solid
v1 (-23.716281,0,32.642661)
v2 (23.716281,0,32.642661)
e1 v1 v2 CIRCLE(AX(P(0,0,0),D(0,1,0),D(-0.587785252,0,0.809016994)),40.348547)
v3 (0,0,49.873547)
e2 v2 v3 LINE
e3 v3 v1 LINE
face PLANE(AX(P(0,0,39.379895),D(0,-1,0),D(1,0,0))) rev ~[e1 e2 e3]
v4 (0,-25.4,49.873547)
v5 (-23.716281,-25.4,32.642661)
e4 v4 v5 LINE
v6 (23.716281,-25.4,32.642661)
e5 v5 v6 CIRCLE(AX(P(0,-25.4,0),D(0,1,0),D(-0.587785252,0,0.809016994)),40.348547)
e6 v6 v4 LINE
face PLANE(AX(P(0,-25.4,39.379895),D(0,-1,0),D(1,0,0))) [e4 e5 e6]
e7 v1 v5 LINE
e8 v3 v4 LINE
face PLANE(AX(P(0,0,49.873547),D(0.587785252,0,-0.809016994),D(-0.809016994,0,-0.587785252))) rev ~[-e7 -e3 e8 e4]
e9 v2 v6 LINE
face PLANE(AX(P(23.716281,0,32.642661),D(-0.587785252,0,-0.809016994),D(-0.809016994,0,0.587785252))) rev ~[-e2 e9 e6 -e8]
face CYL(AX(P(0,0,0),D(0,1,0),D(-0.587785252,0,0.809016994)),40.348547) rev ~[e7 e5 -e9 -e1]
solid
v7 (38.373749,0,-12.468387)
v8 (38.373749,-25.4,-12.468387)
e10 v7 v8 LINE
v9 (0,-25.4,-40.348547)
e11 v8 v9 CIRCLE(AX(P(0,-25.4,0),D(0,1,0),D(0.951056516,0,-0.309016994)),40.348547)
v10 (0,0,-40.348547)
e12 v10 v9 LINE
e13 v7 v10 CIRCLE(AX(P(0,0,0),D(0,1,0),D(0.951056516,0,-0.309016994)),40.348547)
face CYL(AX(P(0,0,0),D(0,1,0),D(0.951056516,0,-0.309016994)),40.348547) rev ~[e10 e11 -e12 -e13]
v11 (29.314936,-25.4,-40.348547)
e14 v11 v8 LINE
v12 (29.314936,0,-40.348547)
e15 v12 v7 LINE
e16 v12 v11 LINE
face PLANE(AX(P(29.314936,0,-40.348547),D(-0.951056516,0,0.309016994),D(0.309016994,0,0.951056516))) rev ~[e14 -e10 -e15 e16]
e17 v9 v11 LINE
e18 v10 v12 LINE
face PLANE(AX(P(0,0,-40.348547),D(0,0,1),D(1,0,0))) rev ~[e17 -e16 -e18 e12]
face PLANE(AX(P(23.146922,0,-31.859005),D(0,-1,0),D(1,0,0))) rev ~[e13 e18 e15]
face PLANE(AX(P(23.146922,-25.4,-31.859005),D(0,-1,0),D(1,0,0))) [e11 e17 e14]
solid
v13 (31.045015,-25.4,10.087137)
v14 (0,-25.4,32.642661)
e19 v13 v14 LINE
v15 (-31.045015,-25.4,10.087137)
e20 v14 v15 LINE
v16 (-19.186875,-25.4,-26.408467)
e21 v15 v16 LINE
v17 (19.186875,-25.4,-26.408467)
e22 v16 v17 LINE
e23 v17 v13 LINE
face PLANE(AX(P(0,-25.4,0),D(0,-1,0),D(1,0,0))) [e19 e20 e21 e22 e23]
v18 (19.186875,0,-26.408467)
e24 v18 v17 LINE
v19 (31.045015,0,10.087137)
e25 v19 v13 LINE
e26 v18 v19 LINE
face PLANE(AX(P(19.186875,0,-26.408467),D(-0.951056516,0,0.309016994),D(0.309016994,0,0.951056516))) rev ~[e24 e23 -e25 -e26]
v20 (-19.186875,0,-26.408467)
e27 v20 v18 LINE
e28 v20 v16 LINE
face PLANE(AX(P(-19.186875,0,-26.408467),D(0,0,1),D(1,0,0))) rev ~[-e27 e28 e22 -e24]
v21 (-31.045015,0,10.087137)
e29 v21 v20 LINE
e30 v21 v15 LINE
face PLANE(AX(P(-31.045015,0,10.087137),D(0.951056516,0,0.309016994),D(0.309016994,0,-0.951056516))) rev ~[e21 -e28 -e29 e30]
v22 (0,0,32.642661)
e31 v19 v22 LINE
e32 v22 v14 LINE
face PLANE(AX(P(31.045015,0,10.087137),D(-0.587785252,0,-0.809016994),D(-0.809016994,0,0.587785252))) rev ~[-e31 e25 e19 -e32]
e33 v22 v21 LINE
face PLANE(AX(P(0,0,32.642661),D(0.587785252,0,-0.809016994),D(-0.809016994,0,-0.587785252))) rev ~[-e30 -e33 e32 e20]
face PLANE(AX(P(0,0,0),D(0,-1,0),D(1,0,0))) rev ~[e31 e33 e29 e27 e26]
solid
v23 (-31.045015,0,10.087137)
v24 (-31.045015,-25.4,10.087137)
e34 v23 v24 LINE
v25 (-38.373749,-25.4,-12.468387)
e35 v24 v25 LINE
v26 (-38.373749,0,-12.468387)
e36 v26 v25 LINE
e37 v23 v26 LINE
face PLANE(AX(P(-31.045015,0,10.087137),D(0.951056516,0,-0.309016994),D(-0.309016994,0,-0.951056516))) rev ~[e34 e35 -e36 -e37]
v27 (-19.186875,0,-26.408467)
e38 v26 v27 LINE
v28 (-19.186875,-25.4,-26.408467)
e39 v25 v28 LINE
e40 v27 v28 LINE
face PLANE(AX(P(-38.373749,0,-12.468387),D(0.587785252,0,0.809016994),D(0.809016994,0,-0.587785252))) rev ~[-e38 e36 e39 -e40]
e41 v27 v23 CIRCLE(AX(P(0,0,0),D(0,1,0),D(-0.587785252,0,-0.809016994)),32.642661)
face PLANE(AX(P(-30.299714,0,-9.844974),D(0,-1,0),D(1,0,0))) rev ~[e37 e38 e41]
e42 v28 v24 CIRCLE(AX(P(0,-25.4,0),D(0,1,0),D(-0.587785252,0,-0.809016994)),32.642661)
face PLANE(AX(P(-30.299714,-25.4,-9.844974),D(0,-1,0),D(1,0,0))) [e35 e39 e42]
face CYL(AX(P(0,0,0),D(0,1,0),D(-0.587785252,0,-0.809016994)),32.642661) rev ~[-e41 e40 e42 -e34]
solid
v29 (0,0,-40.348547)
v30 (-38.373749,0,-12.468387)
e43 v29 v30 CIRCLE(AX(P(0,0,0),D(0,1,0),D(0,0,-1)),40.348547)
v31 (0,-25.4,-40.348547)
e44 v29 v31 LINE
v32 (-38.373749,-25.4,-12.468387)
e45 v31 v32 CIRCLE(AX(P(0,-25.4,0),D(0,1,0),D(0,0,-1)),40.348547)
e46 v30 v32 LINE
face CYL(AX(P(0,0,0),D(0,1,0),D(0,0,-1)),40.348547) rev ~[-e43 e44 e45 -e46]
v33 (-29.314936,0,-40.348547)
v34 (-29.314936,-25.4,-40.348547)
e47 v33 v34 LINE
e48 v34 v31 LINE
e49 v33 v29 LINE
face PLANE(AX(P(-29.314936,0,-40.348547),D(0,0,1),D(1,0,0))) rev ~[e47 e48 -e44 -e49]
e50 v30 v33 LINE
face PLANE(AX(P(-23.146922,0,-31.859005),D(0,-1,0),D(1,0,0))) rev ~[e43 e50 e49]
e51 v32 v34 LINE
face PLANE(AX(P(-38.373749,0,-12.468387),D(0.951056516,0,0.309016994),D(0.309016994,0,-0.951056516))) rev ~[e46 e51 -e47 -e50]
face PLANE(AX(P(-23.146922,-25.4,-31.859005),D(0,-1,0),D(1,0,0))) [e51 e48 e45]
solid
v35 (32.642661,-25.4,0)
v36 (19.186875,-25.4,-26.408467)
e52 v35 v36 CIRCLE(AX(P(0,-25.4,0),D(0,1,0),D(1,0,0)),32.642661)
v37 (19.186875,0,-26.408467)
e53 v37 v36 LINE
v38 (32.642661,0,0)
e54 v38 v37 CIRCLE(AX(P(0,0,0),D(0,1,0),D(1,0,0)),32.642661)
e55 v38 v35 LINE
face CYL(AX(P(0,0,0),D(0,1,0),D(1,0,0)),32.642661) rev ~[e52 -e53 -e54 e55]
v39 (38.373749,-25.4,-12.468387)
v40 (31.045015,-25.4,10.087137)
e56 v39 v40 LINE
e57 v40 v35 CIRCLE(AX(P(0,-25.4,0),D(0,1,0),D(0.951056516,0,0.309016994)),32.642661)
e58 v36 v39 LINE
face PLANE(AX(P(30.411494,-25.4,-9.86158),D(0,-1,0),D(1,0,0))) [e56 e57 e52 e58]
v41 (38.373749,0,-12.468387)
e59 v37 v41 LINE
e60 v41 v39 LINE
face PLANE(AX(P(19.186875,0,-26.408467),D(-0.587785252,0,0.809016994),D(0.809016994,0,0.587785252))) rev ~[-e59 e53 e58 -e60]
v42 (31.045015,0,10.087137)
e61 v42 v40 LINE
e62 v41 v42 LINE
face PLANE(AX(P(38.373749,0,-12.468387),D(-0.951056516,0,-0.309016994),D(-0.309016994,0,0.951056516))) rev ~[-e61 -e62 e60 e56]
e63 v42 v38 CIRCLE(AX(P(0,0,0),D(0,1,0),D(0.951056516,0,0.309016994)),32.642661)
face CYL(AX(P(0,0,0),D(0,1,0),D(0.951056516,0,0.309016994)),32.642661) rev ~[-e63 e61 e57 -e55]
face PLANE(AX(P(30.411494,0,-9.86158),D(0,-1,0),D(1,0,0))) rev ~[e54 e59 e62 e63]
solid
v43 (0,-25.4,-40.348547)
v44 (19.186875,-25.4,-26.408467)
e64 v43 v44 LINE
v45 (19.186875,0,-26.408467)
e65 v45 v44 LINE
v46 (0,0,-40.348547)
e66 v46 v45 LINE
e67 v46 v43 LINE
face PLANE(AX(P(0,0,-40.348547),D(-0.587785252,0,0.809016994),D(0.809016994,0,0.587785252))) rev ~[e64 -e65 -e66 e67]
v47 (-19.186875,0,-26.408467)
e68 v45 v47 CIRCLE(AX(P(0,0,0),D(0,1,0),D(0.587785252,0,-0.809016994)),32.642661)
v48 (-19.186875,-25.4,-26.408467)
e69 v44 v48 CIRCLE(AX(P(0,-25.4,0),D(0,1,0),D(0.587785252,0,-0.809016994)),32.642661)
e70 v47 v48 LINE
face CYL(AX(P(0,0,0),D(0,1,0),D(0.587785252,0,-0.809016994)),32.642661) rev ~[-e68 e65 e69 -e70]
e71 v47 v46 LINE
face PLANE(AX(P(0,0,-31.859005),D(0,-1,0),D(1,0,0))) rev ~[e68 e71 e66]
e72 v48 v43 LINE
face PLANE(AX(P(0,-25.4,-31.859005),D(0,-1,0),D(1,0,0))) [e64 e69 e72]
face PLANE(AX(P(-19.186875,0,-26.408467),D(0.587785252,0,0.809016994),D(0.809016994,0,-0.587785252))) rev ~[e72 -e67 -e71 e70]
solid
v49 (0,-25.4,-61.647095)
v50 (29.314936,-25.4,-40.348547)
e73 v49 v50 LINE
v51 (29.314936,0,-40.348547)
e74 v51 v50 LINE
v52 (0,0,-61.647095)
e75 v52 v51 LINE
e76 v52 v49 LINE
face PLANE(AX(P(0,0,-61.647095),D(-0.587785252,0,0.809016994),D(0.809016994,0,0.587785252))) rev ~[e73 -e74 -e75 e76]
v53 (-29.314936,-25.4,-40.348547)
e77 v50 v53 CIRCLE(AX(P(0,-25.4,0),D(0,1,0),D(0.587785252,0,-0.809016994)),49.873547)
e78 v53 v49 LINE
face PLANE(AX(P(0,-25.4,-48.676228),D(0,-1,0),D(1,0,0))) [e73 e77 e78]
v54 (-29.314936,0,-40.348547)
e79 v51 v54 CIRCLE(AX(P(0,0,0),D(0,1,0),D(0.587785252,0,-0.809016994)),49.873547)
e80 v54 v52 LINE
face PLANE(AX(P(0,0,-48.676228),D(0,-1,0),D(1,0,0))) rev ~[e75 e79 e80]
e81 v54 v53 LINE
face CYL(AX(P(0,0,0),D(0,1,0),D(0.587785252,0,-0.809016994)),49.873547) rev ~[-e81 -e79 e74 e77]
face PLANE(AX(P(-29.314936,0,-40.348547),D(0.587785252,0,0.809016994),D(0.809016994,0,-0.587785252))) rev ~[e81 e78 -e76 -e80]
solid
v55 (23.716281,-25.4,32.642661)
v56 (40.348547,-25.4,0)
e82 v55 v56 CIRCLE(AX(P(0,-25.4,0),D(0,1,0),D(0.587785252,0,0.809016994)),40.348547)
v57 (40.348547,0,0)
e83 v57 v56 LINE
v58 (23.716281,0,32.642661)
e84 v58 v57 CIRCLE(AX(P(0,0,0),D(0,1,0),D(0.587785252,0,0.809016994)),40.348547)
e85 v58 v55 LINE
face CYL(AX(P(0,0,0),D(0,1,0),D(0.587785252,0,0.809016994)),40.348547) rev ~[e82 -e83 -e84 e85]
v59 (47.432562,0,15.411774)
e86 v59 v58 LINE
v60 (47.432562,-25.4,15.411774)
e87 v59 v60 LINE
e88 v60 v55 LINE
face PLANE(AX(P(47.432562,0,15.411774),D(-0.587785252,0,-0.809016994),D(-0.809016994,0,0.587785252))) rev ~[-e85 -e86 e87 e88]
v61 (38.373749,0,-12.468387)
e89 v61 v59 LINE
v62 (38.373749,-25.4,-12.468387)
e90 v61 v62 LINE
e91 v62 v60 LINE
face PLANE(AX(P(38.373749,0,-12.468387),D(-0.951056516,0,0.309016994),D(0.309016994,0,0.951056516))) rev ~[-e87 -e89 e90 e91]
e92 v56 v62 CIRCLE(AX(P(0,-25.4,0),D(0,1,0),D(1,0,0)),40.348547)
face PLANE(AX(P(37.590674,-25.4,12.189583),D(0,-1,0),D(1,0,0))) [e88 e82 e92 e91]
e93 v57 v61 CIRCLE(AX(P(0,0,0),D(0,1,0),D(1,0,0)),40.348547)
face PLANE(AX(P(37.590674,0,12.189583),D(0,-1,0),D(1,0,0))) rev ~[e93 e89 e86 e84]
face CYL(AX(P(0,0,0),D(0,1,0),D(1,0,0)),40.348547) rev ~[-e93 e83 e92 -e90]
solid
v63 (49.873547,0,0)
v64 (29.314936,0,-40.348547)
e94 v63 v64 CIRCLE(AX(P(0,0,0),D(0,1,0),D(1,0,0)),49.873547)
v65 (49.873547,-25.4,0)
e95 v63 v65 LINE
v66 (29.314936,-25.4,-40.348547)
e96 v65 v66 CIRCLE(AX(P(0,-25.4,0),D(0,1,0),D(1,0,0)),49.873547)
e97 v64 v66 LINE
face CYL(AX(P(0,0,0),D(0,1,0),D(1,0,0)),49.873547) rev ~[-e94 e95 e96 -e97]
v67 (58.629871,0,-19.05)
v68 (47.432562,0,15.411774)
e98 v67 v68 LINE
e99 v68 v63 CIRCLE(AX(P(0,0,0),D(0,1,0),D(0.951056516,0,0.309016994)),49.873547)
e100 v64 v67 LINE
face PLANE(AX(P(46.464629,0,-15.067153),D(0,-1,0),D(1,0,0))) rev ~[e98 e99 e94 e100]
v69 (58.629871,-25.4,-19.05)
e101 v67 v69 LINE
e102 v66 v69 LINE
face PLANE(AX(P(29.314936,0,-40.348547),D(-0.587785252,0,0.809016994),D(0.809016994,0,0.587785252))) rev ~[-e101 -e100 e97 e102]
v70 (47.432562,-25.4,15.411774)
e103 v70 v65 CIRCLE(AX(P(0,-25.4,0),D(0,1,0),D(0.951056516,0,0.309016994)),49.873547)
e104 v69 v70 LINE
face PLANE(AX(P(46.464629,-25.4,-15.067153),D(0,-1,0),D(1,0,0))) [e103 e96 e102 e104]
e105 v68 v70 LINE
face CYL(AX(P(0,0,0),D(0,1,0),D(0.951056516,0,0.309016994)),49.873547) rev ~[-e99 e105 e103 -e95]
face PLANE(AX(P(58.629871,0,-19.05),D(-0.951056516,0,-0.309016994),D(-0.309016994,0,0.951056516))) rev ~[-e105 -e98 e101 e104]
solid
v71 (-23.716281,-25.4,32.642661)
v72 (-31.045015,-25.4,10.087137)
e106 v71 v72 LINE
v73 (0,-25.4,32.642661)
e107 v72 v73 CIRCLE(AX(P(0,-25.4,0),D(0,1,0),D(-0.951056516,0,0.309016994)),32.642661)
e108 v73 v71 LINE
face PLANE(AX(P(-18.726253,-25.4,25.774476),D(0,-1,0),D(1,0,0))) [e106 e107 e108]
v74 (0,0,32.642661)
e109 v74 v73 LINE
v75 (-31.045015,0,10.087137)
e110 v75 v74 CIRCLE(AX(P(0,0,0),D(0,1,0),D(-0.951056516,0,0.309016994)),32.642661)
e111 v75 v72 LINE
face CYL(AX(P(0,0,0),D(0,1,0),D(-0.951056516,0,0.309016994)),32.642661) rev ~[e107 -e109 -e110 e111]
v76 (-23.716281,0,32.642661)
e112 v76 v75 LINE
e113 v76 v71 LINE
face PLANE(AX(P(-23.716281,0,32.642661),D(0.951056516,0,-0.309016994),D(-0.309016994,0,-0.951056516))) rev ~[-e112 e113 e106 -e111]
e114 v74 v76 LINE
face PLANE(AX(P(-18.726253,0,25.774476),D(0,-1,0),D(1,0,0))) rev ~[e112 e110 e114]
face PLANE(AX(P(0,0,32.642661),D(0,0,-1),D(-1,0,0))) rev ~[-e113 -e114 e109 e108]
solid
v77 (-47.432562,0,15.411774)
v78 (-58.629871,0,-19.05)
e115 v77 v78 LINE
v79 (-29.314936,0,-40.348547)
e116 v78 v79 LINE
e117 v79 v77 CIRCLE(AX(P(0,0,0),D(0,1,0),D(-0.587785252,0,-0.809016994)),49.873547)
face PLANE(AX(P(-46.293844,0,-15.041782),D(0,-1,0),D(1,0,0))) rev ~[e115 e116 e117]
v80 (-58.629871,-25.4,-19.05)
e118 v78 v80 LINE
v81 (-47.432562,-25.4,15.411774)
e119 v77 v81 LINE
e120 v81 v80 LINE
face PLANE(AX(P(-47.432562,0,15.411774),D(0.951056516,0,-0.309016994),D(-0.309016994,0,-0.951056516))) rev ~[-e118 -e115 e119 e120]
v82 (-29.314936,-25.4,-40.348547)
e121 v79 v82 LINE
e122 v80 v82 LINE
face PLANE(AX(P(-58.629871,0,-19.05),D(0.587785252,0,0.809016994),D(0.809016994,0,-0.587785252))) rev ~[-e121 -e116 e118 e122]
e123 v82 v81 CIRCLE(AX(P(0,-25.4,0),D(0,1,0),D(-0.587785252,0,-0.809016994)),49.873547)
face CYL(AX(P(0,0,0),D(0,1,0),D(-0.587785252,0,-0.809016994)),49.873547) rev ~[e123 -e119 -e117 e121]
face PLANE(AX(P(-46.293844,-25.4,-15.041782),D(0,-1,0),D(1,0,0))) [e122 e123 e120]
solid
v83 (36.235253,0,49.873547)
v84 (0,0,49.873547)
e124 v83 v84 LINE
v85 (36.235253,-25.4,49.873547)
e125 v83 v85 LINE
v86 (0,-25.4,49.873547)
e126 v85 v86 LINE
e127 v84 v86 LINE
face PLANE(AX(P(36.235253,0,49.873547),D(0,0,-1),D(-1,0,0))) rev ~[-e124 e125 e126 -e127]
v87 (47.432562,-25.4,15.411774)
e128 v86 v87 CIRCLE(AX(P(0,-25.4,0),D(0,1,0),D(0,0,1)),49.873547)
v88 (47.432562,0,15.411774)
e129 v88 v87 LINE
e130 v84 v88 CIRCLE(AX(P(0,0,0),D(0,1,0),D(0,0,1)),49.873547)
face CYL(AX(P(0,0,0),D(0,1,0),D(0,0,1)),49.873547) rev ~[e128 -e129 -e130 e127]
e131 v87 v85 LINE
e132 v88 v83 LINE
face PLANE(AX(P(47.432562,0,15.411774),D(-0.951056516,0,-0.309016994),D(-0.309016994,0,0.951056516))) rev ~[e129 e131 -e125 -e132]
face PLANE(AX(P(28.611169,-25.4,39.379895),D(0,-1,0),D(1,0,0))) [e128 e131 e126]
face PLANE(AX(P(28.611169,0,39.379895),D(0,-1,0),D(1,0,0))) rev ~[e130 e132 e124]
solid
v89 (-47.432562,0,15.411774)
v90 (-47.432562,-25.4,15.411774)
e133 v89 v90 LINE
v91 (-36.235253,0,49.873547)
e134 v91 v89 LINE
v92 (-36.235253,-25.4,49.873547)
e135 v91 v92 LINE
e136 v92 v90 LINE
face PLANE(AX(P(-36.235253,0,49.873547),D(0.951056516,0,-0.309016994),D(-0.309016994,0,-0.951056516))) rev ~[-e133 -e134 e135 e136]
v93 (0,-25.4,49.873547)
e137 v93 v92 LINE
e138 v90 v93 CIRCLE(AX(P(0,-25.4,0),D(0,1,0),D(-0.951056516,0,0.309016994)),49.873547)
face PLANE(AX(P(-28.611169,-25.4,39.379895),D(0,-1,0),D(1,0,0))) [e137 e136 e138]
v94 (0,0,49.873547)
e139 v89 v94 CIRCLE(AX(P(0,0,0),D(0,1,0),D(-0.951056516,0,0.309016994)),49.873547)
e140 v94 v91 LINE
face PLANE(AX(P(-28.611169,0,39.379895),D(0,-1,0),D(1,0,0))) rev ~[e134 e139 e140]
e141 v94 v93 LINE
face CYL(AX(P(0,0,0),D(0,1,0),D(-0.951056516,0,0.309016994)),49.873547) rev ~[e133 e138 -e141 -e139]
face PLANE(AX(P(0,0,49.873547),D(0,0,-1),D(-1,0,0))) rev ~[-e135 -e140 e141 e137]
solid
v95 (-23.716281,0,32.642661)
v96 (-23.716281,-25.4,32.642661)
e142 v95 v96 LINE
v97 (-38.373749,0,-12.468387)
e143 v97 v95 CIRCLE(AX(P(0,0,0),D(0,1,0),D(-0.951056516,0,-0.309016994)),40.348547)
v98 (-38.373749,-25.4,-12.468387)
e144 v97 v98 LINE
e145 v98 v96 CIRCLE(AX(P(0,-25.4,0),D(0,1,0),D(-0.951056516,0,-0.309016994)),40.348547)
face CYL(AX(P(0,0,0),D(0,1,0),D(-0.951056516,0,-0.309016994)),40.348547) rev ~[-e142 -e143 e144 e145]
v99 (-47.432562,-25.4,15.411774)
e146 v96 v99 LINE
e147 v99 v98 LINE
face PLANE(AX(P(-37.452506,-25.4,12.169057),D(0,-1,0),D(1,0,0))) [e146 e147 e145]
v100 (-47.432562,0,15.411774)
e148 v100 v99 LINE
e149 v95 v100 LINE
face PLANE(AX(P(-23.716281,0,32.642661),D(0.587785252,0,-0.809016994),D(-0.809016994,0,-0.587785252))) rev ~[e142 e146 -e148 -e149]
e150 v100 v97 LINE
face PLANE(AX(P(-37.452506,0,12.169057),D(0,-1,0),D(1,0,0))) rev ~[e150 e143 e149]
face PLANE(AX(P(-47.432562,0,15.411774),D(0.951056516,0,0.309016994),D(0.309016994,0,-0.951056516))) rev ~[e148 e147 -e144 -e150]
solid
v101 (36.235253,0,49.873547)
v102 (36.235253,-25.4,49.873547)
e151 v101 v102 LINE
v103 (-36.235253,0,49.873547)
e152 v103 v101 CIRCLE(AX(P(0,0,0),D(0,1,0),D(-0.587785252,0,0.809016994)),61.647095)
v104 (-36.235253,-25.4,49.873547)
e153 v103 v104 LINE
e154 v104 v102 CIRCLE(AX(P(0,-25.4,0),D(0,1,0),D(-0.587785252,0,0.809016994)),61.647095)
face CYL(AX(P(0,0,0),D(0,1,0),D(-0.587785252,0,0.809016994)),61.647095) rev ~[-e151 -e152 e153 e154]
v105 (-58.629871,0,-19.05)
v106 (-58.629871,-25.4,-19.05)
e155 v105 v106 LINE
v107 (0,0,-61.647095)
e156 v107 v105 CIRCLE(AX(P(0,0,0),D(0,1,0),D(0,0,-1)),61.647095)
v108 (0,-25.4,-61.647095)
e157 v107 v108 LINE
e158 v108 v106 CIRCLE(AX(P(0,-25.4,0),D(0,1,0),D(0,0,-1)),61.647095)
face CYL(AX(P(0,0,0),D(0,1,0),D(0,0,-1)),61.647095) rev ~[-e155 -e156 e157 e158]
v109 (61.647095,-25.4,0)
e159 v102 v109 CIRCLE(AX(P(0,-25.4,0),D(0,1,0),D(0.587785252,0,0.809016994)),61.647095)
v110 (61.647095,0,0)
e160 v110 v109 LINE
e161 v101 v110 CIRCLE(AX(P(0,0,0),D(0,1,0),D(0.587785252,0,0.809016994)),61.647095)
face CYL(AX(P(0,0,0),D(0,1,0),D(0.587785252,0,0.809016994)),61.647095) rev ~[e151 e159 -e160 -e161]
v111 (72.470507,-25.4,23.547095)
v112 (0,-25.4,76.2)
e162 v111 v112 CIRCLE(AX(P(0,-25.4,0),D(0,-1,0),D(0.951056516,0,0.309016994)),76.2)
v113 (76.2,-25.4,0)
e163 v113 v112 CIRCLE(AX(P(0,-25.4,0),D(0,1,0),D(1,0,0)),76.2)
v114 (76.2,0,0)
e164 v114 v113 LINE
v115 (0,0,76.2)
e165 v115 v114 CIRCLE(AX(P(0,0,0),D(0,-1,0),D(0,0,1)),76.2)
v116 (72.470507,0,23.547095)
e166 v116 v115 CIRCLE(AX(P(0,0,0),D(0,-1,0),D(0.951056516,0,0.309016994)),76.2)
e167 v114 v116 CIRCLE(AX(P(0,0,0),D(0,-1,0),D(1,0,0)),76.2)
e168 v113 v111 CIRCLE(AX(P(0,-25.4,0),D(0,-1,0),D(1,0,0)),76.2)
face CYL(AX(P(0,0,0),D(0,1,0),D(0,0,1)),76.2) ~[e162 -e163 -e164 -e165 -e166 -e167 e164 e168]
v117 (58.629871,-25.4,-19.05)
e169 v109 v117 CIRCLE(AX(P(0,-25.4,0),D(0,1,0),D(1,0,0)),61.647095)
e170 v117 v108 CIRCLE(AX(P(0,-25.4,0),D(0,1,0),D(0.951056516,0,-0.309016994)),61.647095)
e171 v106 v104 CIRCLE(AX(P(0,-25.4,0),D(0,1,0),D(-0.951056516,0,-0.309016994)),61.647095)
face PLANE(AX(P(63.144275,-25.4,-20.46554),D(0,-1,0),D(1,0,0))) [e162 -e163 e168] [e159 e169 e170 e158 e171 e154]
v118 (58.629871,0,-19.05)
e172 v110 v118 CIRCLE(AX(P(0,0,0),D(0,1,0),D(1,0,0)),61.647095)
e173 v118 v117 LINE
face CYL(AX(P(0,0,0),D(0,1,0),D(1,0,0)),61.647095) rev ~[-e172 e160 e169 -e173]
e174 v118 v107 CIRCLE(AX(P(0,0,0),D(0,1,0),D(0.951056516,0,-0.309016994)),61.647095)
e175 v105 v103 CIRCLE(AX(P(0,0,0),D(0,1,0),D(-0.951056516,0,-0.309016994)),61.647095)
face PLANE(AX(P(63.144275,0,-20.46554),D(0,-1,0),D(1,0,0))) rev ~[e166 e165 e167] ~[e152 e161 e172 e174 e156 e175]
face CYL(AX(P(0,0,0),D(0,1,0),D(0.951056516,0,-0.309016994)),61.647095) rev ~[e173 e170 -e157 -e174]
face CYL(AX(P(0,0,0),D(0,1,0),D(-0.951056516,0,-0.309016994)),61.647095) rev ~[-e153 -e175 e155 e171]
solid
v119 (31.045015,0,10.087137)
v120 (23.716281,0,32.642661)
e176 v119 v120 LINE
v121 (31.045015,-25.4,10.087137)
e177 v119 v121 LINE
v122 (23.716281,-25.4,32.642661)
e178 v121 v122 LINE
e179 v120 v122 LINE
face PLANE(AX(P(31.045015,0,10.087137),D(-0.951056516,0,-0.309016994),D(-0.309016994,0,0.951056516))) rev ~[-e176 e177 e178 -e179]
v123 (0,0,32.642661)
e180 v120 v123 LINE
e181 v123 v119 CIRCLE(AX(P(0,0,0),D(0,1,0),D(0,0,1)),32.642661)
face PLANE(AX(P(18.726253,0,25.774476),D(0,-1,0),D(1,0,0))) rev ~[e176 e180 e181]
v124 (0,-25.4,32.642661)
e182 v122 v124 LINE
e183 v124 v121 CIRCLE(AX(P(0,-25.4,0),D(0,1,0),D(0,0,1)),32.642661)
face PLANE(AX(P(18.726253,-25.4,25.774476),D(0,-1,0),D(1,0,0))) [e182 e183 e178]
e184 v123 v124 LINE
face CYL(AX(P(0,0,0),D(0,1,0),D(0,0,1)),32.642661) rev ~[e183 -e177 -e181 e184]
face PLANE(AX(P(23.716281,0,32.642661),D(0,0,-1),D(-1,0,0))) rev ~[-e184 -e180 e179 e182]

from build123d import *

# Parameters (mm, degrees)
F1_DEPTH = 25.4


with BuildPart() as f1:
    # F0 (on Front) → F1 (new body)
    with BuildSketch(Plane.XZ):
        with BuildLine():
            ThreePointArc((44.7892362247, -61.6470949714), (67.8946971432, -34.5940760802), (76.2, 0))
            ThreePointArc((76.2, 0), (75.2618515533, 11.9203062361), (72.4705065417, 23.5470949714))
            Line((72.4705065417, 23.5470949714), (58.6298713832, -19.05))
            Line((58.6298713832, -19.05), (44.7892362247, -61.6470949714))
        make_face()
        with BuildLine():
            Line((36.2352532708, 49.8735474857), (72.4705065417, 23.5470949714))
            ThreePointArc((72.4705065417, 23.5470949714), (44.7892362247, 61.6470949714), (0, 76.2))
            Line((0, 76.2), (36.2352532708, 49.8735474857))
        make_face()
        with BuildLine():
            Line((58.6298713832, -19.05), (72.4705065417, 23.5470949714))
            Line((72.4705065417, 23.5470949714), (36.2352532708, 49.8735474857))
            ThreePointArc((36.2352532708, 49.8735474857), (54.9279638168, 27.9871954535), (61.6470949714, 0))
            ThreePointArc((61.6470949714, 0), (60.8881169348, -9.6437303231), (58.6298713832, -19.05))
        make_face()
        with BuildLine():
            Line((0, -61.6470949714), (44.7892362247, -61.6470949714))
            Line((44.7892362247, -61.6470949714), (58.6298713832, -19.05))
            ThreePointArc((58.6298713832, -19.05), (36.2352532708, -49.8735474857), (0, -61.6470949714))
        make_face()
        with BuildLine():
            ThreePointArc((-44.7892362247, -61.6470949714), (0, -76.2), (44.7892362247, -61.6470949714))
            Line((44.7892362247, -61.6470949714), (0, -61.6470949714))
            Line((0, -61.6470949714), (-44.7892362247, -61.6470949714))
        make_face()
        with BuildLine():
            Line((-36.2352532708, 49.8735474857), (0, 76.2))
            ThreePointArc((0, 76.2), (-44.7892362247, 61.6470949714), (-72.4705065417, 23.5470949714))
            Line((-72.4705065417, 23.5470949714), (-36.2352532708, 49.8735474857))
        make_face()
        with BuildLine():
            Line((36.2352532708, 49.8735474857), (0, 76.2))
            Line((0, 76.2), (-36.2352532708, 49.8735474857))
            ThreePointArc((-36.2352532708, 49.8735474857), (0, 61.6470949714), (36.2352532708, 49.8735474857))
        make_face()
        with BuildLine():
            Line((-58.6298713832, -19.05), (-44.7892362247, -61.6470949714))
            Line((-44.7892362247, -61.6470949714), (0, -61.6470949714))
            ThreePointArc((0, -61.6470949714), (-36.2352532708, -49.8735474857), (-58.6298713832, -19.05))
        make_face()
        with BuildLine():
            ThreePointArc((-72.4705065417, 23.5470949714), (-72.4705065417, -23.5470949714), (-44.7892362247, -61.6470949714))
            Line((-44.7892362247, -61.6470949714), (-58.6298713832, -19.05))
            Line((-58.6298713832, -19.05), (-72.4705065417, 23.5470949714))
        make_face()
        with BuildLine():
            Line((-36.2352532708, 49.8735474857), (-72.4705065417, 23.5470949714))
            Line((-72.4705065417, 23.5470949714), (-58.6298713832, -19.05))
            ThreePointArc((-58.6298713832, -19.05), (-58.6298713832, 19.05), (-36.2352532708, 49.8735474857))
        make_face()
    extrude(amount=F1_DEPTH)


with BuildPart() as f1b:
    # F0 (on Front) → F1, piece 2 (new body)
    with BuildSketch(Plane.XZ):
        Polygon((31.0450150864, 10.0871368714), (0, 32.6426606143), (-31.0450150864, 10.0871368714), (-19.1868745047, -26.4084671786), (19.1868745047, -26.4084671786), align=None)
    extrude(amount=F1_DEPTH)


with BuildPart() as f1c:
    # F0 (on Front) → F1, piece 3 (new body)
    with BuildSketch(Plane.XZ):
        with BuildLine():
            Line((-31.0450150864, 10.0871368714), (-38.3737490093, -12.4683868714))
            Line((-38.3737490093, -12.4683868714), (-19.1868745047, -26.4084671786))
            ThreePointArc((-19.1868745047, -26.4084671786), (-31.0450150864, -10.0871368714), (-31.0450150864, 10.0871368714))
        make_face()
    extrude(amount=F1_DEPTH)


with BuildPart() as f1d:
    # F0 (on Front) → F1, piece 4 (new body)
    with BuildSketch(Plane.XZ):
        with BuildLine():
            Line((-19.1868745047, -26.4084671786), (0, -40.3485474857))
            Line((0, -40.3485474857), (19.1868745047, -26.4084671786))
            ThreePointArc((19.1868745047, -26.4084671786), (0, -32.6426606143), (-19.1868745047, -26.4084671786))
        make_face()
    extrude(amount=F1_DEPTH)


with BuildPart() as f1e:
    # F0 (on Front) → F1, piece 5 (new body)
    with BuildSketch(Plane.XZ):
        with BuildLine():
            Line((19.1868745047, -26.4084671786), (38.3737490093, -12.4683868714))
            Line((38.3737490093, -12.4683868714), (31.0450150864, 10.0871368714))
            ThreePointArc((31.0450150864, 10.0871368714), (32.2407752947, 5.1064371507), (32.6426606143, 0))
            ThreePointArc((32.6426606143, 0), (29.0848235742, -14.8194578051), (19.1868745047, -26.4084671786))
        make_face()
    extrude(amount=F1_DEPTH)


with BuildPart() as f1f:
    # F0 (on Front) → F1, piece 6 (new body)
    with BuildSketch(Plane.XZ):
        with BuildLine():
            Line((31.0450150864, 10.0871368714), (23.7162811635, 32.6426606143))
            Line((23.7162811635, 32.6426606143), (0, 32.6426606143))
            ThreePointArc((0, 32.6426606143), (19.1868745047, 26.4084671786), (31.0450150864, 10.0871368714))
        make_face()
    extrude(amount=F1_DEPTH)


with BuildPart() as f1g:
    # F0 (on Front) → F1, piece 7 (new body)
    with BuildSketch(Plane.XZ):
        with BuildLine():
            Line((0, 32.6426606143), (-23.7162811635, 32.6426606143))
            Line((-23.7162811635, 32.6426606143), (-31.0450150864, 10.0871368714))
            ThreePointArc((-31.0450150864, 10.0871368714), (-19.1868745047, 26.4084671786), (0, 32.6426606143))
        make_face()
    extrude(amount=F1_DEPTH)


with BuildPart() as f1h:
    # F0 (on Front) → F1, piece 8 (new body)
    with BuildSketch(Plane.XZ):
        with BuildLine():
            Line((-23.7162811635, 32.6426606143), (-47.432562327, 15.4117737428))
            Line((-47.432562327, 15.4117737428), (-38.3737490093, -12.4683868714))
            ThreePointArc((-38.3737490093, -12.4683868714), (-38.3737490093, 12.4683868714), (-23.7162811635, 32.6426606143))
        make_face()
    extrude(amount=F1_DEPTH)


with BuildPart() as f1i:
    # F0 (on Front) → F1, piece 9 (new body)
    with BuildSketch(Plane.XZ):
        with BuildLine():
            Line((-38.3737490093, -12.4683868714), (-29.3149356916, -40.3485474857))
            Line((-29.3149356916, -40.3485474857), (0, -40.3485474857))
            ThreePointArc((0, -40.3485474857), (-23.7162811635, -32.6426606143), (-38.3737490093, -12.4683868714))
        make_face()
    extrude(amount=F1_DEPTH)


with BuildPart() as f1j:
    # F0 (on Front) → F1, piece 10 (new body)
    with BuildSketch(Plane.XZ):
        with BuildLine():
            Line((0, -40.3485474857), (29.3149356916, -40.3485474857))
            Line((29.3149356916, -40.3485474857), (38.3737490093, -12.4683868714))
            ThreePointArc((38.3737490093, -12.4683868714), (23.7162811635, -32.6426606143), (0, -40.3485474857))
        make_face()
    extrude(amount=F1_DEPTH)


with BuildPart() as f1k:
    # F0 (on Front) → F1, piece 11 (new body)
    with BuildSketch(Plane.XZ):
        with BuildLine():
            Line((38.3737490093, -12.4683868714), (47.432562327, 15.4117737428))
            Line((47.432562327, 15.4117737428), (23.7162811635, 32.6426606143))
            ThreePointArc((23.7162811635, 32.6426606143), (35.9508190513, 18.3178572368), (40.3485474857, 0))
            ThreePointArc((40.3485474857, 0), (39.8517899116, -6.3119034411), (38.3737490093, -12.4683868714))
        make_face()
    extrude(amount=F1_DEPTH)


with BuildPart() as f1l:
    # F0 (on Front) → F1, piece 12 (new body)
    with BuildSketch(Plane.XZ):
        with BuildLine():
            Line((23.7162811635, 32.6426606143), (0, 49.8735474857))
            Line((0, 49.8735474857), (-23.7162811635, 32.6426606143))
            ThreePointArc((-23.7162811635, 32.6426606143), (0, 40.3485474857), (23.7162811635, 32.6426606143))
        make_face()
    extrude(amount=F1_DEPTH)


with BuildPart() as f1m:
    # F0 (on Front) → F1, piece 13 (new body)
    with BuildSketch(Plane.XZ):
        with BuildLine():
            Line((0, 49.8735474857), (-36.2352532708, 49.8735474857))
            Line((-36.2352532708, 49.8735474857), (-47.432562327, 15.4117737428))
            ThreePointArc((-47.432562327, 15.4117737428), (-29.3149356916, 40.3485474857), (0, 49.8735474857))
        make_face()
    extrude(amount=F1_DEPTH)


with BuildPart() as f1n:
    # F0 (on Front) → F1, piece 14 (new body)
    with BuildSketch(Plane.XZ):
        with BuildLine():
            Line((-47.432562327, 15.4117737428), (-58.6298713832, -19.05))
            Line((-58.6298713832, -19.05), (-29.3149356916, -40.3485474857))
            ThreePointArc((-29.3149356916, -40.3485474857), (-47.432562327, -15.4117737428), (-47.432562327, 15.4117737428))
        make_face()
    extrude(amount=F1_DEPTH)


with BuildPart() as f1o:
    # F0 (on Front) → F1, piece 15 (new body)
    with BuildSketch(Plane.XZ):
        with BuildLine():
            Line((-29.3149356916, -40.3485474857), (0, -61.6470949714))
            Line((0, -61.6470949714), (29.3149356916, -40.3485474857))
            ThreePointArc((29.3149356916, -40.3485474857), (0, -49.8735474857), (-29.3149356916, -40.3485474857))
        make_face()
    extrude(amount=F1_DEPTH)


with BuildPart() as f1p:
    # F0 (on Front) → F1, piece 16 (new body)
    with BuildSketch(Plane.XZ):
        with BuildLine():
            Line((29.3149356916, -40.3485474857), (58.6298713832, -19.05))
            Line((58.6298713832, -19.05), (47.432562327, 15.4117737428))
            ThreePointArc((47.432562327, 15.4117737428), (49.2595213557, 7.8019417206), (49.8735474857, 0))
            ThreePointArc((49.8735474857, 0), (44.4376561942, -22.6421167468), (29.3149356916, -40.3485474857))
        make_face()
    extrude(amount=F1_DEPTH)


with BuildPart() as f1q:
    # F0 (on Front) → F1, piece 17 (new body)
    with BuildSketch(Plane.XZ):
        with BuildLine():
            Line((47.432562327, 15.4117737428), (36.2352532708, 49.8735474857))
            Line((36.2352532708, 49.8735474857), (0, 49.8735474857))
            ThreePointArc((0, 49.8735474857), (29.3149356916, 40.3485474857), (47.432562327, 15.4117737428))
        make_face()
    extrude(amount=F1_DEPTH)


solid = Compound([f1.part, f1b.part, f1c.part, f1d.part, f1e.part, f1f.part, f1g.part, f1h.part, f1i.part, f1j.part, f1k.part, f1l.part, f1m.part, f1n.part, f1o.part, f1p.part, f1q.part])
